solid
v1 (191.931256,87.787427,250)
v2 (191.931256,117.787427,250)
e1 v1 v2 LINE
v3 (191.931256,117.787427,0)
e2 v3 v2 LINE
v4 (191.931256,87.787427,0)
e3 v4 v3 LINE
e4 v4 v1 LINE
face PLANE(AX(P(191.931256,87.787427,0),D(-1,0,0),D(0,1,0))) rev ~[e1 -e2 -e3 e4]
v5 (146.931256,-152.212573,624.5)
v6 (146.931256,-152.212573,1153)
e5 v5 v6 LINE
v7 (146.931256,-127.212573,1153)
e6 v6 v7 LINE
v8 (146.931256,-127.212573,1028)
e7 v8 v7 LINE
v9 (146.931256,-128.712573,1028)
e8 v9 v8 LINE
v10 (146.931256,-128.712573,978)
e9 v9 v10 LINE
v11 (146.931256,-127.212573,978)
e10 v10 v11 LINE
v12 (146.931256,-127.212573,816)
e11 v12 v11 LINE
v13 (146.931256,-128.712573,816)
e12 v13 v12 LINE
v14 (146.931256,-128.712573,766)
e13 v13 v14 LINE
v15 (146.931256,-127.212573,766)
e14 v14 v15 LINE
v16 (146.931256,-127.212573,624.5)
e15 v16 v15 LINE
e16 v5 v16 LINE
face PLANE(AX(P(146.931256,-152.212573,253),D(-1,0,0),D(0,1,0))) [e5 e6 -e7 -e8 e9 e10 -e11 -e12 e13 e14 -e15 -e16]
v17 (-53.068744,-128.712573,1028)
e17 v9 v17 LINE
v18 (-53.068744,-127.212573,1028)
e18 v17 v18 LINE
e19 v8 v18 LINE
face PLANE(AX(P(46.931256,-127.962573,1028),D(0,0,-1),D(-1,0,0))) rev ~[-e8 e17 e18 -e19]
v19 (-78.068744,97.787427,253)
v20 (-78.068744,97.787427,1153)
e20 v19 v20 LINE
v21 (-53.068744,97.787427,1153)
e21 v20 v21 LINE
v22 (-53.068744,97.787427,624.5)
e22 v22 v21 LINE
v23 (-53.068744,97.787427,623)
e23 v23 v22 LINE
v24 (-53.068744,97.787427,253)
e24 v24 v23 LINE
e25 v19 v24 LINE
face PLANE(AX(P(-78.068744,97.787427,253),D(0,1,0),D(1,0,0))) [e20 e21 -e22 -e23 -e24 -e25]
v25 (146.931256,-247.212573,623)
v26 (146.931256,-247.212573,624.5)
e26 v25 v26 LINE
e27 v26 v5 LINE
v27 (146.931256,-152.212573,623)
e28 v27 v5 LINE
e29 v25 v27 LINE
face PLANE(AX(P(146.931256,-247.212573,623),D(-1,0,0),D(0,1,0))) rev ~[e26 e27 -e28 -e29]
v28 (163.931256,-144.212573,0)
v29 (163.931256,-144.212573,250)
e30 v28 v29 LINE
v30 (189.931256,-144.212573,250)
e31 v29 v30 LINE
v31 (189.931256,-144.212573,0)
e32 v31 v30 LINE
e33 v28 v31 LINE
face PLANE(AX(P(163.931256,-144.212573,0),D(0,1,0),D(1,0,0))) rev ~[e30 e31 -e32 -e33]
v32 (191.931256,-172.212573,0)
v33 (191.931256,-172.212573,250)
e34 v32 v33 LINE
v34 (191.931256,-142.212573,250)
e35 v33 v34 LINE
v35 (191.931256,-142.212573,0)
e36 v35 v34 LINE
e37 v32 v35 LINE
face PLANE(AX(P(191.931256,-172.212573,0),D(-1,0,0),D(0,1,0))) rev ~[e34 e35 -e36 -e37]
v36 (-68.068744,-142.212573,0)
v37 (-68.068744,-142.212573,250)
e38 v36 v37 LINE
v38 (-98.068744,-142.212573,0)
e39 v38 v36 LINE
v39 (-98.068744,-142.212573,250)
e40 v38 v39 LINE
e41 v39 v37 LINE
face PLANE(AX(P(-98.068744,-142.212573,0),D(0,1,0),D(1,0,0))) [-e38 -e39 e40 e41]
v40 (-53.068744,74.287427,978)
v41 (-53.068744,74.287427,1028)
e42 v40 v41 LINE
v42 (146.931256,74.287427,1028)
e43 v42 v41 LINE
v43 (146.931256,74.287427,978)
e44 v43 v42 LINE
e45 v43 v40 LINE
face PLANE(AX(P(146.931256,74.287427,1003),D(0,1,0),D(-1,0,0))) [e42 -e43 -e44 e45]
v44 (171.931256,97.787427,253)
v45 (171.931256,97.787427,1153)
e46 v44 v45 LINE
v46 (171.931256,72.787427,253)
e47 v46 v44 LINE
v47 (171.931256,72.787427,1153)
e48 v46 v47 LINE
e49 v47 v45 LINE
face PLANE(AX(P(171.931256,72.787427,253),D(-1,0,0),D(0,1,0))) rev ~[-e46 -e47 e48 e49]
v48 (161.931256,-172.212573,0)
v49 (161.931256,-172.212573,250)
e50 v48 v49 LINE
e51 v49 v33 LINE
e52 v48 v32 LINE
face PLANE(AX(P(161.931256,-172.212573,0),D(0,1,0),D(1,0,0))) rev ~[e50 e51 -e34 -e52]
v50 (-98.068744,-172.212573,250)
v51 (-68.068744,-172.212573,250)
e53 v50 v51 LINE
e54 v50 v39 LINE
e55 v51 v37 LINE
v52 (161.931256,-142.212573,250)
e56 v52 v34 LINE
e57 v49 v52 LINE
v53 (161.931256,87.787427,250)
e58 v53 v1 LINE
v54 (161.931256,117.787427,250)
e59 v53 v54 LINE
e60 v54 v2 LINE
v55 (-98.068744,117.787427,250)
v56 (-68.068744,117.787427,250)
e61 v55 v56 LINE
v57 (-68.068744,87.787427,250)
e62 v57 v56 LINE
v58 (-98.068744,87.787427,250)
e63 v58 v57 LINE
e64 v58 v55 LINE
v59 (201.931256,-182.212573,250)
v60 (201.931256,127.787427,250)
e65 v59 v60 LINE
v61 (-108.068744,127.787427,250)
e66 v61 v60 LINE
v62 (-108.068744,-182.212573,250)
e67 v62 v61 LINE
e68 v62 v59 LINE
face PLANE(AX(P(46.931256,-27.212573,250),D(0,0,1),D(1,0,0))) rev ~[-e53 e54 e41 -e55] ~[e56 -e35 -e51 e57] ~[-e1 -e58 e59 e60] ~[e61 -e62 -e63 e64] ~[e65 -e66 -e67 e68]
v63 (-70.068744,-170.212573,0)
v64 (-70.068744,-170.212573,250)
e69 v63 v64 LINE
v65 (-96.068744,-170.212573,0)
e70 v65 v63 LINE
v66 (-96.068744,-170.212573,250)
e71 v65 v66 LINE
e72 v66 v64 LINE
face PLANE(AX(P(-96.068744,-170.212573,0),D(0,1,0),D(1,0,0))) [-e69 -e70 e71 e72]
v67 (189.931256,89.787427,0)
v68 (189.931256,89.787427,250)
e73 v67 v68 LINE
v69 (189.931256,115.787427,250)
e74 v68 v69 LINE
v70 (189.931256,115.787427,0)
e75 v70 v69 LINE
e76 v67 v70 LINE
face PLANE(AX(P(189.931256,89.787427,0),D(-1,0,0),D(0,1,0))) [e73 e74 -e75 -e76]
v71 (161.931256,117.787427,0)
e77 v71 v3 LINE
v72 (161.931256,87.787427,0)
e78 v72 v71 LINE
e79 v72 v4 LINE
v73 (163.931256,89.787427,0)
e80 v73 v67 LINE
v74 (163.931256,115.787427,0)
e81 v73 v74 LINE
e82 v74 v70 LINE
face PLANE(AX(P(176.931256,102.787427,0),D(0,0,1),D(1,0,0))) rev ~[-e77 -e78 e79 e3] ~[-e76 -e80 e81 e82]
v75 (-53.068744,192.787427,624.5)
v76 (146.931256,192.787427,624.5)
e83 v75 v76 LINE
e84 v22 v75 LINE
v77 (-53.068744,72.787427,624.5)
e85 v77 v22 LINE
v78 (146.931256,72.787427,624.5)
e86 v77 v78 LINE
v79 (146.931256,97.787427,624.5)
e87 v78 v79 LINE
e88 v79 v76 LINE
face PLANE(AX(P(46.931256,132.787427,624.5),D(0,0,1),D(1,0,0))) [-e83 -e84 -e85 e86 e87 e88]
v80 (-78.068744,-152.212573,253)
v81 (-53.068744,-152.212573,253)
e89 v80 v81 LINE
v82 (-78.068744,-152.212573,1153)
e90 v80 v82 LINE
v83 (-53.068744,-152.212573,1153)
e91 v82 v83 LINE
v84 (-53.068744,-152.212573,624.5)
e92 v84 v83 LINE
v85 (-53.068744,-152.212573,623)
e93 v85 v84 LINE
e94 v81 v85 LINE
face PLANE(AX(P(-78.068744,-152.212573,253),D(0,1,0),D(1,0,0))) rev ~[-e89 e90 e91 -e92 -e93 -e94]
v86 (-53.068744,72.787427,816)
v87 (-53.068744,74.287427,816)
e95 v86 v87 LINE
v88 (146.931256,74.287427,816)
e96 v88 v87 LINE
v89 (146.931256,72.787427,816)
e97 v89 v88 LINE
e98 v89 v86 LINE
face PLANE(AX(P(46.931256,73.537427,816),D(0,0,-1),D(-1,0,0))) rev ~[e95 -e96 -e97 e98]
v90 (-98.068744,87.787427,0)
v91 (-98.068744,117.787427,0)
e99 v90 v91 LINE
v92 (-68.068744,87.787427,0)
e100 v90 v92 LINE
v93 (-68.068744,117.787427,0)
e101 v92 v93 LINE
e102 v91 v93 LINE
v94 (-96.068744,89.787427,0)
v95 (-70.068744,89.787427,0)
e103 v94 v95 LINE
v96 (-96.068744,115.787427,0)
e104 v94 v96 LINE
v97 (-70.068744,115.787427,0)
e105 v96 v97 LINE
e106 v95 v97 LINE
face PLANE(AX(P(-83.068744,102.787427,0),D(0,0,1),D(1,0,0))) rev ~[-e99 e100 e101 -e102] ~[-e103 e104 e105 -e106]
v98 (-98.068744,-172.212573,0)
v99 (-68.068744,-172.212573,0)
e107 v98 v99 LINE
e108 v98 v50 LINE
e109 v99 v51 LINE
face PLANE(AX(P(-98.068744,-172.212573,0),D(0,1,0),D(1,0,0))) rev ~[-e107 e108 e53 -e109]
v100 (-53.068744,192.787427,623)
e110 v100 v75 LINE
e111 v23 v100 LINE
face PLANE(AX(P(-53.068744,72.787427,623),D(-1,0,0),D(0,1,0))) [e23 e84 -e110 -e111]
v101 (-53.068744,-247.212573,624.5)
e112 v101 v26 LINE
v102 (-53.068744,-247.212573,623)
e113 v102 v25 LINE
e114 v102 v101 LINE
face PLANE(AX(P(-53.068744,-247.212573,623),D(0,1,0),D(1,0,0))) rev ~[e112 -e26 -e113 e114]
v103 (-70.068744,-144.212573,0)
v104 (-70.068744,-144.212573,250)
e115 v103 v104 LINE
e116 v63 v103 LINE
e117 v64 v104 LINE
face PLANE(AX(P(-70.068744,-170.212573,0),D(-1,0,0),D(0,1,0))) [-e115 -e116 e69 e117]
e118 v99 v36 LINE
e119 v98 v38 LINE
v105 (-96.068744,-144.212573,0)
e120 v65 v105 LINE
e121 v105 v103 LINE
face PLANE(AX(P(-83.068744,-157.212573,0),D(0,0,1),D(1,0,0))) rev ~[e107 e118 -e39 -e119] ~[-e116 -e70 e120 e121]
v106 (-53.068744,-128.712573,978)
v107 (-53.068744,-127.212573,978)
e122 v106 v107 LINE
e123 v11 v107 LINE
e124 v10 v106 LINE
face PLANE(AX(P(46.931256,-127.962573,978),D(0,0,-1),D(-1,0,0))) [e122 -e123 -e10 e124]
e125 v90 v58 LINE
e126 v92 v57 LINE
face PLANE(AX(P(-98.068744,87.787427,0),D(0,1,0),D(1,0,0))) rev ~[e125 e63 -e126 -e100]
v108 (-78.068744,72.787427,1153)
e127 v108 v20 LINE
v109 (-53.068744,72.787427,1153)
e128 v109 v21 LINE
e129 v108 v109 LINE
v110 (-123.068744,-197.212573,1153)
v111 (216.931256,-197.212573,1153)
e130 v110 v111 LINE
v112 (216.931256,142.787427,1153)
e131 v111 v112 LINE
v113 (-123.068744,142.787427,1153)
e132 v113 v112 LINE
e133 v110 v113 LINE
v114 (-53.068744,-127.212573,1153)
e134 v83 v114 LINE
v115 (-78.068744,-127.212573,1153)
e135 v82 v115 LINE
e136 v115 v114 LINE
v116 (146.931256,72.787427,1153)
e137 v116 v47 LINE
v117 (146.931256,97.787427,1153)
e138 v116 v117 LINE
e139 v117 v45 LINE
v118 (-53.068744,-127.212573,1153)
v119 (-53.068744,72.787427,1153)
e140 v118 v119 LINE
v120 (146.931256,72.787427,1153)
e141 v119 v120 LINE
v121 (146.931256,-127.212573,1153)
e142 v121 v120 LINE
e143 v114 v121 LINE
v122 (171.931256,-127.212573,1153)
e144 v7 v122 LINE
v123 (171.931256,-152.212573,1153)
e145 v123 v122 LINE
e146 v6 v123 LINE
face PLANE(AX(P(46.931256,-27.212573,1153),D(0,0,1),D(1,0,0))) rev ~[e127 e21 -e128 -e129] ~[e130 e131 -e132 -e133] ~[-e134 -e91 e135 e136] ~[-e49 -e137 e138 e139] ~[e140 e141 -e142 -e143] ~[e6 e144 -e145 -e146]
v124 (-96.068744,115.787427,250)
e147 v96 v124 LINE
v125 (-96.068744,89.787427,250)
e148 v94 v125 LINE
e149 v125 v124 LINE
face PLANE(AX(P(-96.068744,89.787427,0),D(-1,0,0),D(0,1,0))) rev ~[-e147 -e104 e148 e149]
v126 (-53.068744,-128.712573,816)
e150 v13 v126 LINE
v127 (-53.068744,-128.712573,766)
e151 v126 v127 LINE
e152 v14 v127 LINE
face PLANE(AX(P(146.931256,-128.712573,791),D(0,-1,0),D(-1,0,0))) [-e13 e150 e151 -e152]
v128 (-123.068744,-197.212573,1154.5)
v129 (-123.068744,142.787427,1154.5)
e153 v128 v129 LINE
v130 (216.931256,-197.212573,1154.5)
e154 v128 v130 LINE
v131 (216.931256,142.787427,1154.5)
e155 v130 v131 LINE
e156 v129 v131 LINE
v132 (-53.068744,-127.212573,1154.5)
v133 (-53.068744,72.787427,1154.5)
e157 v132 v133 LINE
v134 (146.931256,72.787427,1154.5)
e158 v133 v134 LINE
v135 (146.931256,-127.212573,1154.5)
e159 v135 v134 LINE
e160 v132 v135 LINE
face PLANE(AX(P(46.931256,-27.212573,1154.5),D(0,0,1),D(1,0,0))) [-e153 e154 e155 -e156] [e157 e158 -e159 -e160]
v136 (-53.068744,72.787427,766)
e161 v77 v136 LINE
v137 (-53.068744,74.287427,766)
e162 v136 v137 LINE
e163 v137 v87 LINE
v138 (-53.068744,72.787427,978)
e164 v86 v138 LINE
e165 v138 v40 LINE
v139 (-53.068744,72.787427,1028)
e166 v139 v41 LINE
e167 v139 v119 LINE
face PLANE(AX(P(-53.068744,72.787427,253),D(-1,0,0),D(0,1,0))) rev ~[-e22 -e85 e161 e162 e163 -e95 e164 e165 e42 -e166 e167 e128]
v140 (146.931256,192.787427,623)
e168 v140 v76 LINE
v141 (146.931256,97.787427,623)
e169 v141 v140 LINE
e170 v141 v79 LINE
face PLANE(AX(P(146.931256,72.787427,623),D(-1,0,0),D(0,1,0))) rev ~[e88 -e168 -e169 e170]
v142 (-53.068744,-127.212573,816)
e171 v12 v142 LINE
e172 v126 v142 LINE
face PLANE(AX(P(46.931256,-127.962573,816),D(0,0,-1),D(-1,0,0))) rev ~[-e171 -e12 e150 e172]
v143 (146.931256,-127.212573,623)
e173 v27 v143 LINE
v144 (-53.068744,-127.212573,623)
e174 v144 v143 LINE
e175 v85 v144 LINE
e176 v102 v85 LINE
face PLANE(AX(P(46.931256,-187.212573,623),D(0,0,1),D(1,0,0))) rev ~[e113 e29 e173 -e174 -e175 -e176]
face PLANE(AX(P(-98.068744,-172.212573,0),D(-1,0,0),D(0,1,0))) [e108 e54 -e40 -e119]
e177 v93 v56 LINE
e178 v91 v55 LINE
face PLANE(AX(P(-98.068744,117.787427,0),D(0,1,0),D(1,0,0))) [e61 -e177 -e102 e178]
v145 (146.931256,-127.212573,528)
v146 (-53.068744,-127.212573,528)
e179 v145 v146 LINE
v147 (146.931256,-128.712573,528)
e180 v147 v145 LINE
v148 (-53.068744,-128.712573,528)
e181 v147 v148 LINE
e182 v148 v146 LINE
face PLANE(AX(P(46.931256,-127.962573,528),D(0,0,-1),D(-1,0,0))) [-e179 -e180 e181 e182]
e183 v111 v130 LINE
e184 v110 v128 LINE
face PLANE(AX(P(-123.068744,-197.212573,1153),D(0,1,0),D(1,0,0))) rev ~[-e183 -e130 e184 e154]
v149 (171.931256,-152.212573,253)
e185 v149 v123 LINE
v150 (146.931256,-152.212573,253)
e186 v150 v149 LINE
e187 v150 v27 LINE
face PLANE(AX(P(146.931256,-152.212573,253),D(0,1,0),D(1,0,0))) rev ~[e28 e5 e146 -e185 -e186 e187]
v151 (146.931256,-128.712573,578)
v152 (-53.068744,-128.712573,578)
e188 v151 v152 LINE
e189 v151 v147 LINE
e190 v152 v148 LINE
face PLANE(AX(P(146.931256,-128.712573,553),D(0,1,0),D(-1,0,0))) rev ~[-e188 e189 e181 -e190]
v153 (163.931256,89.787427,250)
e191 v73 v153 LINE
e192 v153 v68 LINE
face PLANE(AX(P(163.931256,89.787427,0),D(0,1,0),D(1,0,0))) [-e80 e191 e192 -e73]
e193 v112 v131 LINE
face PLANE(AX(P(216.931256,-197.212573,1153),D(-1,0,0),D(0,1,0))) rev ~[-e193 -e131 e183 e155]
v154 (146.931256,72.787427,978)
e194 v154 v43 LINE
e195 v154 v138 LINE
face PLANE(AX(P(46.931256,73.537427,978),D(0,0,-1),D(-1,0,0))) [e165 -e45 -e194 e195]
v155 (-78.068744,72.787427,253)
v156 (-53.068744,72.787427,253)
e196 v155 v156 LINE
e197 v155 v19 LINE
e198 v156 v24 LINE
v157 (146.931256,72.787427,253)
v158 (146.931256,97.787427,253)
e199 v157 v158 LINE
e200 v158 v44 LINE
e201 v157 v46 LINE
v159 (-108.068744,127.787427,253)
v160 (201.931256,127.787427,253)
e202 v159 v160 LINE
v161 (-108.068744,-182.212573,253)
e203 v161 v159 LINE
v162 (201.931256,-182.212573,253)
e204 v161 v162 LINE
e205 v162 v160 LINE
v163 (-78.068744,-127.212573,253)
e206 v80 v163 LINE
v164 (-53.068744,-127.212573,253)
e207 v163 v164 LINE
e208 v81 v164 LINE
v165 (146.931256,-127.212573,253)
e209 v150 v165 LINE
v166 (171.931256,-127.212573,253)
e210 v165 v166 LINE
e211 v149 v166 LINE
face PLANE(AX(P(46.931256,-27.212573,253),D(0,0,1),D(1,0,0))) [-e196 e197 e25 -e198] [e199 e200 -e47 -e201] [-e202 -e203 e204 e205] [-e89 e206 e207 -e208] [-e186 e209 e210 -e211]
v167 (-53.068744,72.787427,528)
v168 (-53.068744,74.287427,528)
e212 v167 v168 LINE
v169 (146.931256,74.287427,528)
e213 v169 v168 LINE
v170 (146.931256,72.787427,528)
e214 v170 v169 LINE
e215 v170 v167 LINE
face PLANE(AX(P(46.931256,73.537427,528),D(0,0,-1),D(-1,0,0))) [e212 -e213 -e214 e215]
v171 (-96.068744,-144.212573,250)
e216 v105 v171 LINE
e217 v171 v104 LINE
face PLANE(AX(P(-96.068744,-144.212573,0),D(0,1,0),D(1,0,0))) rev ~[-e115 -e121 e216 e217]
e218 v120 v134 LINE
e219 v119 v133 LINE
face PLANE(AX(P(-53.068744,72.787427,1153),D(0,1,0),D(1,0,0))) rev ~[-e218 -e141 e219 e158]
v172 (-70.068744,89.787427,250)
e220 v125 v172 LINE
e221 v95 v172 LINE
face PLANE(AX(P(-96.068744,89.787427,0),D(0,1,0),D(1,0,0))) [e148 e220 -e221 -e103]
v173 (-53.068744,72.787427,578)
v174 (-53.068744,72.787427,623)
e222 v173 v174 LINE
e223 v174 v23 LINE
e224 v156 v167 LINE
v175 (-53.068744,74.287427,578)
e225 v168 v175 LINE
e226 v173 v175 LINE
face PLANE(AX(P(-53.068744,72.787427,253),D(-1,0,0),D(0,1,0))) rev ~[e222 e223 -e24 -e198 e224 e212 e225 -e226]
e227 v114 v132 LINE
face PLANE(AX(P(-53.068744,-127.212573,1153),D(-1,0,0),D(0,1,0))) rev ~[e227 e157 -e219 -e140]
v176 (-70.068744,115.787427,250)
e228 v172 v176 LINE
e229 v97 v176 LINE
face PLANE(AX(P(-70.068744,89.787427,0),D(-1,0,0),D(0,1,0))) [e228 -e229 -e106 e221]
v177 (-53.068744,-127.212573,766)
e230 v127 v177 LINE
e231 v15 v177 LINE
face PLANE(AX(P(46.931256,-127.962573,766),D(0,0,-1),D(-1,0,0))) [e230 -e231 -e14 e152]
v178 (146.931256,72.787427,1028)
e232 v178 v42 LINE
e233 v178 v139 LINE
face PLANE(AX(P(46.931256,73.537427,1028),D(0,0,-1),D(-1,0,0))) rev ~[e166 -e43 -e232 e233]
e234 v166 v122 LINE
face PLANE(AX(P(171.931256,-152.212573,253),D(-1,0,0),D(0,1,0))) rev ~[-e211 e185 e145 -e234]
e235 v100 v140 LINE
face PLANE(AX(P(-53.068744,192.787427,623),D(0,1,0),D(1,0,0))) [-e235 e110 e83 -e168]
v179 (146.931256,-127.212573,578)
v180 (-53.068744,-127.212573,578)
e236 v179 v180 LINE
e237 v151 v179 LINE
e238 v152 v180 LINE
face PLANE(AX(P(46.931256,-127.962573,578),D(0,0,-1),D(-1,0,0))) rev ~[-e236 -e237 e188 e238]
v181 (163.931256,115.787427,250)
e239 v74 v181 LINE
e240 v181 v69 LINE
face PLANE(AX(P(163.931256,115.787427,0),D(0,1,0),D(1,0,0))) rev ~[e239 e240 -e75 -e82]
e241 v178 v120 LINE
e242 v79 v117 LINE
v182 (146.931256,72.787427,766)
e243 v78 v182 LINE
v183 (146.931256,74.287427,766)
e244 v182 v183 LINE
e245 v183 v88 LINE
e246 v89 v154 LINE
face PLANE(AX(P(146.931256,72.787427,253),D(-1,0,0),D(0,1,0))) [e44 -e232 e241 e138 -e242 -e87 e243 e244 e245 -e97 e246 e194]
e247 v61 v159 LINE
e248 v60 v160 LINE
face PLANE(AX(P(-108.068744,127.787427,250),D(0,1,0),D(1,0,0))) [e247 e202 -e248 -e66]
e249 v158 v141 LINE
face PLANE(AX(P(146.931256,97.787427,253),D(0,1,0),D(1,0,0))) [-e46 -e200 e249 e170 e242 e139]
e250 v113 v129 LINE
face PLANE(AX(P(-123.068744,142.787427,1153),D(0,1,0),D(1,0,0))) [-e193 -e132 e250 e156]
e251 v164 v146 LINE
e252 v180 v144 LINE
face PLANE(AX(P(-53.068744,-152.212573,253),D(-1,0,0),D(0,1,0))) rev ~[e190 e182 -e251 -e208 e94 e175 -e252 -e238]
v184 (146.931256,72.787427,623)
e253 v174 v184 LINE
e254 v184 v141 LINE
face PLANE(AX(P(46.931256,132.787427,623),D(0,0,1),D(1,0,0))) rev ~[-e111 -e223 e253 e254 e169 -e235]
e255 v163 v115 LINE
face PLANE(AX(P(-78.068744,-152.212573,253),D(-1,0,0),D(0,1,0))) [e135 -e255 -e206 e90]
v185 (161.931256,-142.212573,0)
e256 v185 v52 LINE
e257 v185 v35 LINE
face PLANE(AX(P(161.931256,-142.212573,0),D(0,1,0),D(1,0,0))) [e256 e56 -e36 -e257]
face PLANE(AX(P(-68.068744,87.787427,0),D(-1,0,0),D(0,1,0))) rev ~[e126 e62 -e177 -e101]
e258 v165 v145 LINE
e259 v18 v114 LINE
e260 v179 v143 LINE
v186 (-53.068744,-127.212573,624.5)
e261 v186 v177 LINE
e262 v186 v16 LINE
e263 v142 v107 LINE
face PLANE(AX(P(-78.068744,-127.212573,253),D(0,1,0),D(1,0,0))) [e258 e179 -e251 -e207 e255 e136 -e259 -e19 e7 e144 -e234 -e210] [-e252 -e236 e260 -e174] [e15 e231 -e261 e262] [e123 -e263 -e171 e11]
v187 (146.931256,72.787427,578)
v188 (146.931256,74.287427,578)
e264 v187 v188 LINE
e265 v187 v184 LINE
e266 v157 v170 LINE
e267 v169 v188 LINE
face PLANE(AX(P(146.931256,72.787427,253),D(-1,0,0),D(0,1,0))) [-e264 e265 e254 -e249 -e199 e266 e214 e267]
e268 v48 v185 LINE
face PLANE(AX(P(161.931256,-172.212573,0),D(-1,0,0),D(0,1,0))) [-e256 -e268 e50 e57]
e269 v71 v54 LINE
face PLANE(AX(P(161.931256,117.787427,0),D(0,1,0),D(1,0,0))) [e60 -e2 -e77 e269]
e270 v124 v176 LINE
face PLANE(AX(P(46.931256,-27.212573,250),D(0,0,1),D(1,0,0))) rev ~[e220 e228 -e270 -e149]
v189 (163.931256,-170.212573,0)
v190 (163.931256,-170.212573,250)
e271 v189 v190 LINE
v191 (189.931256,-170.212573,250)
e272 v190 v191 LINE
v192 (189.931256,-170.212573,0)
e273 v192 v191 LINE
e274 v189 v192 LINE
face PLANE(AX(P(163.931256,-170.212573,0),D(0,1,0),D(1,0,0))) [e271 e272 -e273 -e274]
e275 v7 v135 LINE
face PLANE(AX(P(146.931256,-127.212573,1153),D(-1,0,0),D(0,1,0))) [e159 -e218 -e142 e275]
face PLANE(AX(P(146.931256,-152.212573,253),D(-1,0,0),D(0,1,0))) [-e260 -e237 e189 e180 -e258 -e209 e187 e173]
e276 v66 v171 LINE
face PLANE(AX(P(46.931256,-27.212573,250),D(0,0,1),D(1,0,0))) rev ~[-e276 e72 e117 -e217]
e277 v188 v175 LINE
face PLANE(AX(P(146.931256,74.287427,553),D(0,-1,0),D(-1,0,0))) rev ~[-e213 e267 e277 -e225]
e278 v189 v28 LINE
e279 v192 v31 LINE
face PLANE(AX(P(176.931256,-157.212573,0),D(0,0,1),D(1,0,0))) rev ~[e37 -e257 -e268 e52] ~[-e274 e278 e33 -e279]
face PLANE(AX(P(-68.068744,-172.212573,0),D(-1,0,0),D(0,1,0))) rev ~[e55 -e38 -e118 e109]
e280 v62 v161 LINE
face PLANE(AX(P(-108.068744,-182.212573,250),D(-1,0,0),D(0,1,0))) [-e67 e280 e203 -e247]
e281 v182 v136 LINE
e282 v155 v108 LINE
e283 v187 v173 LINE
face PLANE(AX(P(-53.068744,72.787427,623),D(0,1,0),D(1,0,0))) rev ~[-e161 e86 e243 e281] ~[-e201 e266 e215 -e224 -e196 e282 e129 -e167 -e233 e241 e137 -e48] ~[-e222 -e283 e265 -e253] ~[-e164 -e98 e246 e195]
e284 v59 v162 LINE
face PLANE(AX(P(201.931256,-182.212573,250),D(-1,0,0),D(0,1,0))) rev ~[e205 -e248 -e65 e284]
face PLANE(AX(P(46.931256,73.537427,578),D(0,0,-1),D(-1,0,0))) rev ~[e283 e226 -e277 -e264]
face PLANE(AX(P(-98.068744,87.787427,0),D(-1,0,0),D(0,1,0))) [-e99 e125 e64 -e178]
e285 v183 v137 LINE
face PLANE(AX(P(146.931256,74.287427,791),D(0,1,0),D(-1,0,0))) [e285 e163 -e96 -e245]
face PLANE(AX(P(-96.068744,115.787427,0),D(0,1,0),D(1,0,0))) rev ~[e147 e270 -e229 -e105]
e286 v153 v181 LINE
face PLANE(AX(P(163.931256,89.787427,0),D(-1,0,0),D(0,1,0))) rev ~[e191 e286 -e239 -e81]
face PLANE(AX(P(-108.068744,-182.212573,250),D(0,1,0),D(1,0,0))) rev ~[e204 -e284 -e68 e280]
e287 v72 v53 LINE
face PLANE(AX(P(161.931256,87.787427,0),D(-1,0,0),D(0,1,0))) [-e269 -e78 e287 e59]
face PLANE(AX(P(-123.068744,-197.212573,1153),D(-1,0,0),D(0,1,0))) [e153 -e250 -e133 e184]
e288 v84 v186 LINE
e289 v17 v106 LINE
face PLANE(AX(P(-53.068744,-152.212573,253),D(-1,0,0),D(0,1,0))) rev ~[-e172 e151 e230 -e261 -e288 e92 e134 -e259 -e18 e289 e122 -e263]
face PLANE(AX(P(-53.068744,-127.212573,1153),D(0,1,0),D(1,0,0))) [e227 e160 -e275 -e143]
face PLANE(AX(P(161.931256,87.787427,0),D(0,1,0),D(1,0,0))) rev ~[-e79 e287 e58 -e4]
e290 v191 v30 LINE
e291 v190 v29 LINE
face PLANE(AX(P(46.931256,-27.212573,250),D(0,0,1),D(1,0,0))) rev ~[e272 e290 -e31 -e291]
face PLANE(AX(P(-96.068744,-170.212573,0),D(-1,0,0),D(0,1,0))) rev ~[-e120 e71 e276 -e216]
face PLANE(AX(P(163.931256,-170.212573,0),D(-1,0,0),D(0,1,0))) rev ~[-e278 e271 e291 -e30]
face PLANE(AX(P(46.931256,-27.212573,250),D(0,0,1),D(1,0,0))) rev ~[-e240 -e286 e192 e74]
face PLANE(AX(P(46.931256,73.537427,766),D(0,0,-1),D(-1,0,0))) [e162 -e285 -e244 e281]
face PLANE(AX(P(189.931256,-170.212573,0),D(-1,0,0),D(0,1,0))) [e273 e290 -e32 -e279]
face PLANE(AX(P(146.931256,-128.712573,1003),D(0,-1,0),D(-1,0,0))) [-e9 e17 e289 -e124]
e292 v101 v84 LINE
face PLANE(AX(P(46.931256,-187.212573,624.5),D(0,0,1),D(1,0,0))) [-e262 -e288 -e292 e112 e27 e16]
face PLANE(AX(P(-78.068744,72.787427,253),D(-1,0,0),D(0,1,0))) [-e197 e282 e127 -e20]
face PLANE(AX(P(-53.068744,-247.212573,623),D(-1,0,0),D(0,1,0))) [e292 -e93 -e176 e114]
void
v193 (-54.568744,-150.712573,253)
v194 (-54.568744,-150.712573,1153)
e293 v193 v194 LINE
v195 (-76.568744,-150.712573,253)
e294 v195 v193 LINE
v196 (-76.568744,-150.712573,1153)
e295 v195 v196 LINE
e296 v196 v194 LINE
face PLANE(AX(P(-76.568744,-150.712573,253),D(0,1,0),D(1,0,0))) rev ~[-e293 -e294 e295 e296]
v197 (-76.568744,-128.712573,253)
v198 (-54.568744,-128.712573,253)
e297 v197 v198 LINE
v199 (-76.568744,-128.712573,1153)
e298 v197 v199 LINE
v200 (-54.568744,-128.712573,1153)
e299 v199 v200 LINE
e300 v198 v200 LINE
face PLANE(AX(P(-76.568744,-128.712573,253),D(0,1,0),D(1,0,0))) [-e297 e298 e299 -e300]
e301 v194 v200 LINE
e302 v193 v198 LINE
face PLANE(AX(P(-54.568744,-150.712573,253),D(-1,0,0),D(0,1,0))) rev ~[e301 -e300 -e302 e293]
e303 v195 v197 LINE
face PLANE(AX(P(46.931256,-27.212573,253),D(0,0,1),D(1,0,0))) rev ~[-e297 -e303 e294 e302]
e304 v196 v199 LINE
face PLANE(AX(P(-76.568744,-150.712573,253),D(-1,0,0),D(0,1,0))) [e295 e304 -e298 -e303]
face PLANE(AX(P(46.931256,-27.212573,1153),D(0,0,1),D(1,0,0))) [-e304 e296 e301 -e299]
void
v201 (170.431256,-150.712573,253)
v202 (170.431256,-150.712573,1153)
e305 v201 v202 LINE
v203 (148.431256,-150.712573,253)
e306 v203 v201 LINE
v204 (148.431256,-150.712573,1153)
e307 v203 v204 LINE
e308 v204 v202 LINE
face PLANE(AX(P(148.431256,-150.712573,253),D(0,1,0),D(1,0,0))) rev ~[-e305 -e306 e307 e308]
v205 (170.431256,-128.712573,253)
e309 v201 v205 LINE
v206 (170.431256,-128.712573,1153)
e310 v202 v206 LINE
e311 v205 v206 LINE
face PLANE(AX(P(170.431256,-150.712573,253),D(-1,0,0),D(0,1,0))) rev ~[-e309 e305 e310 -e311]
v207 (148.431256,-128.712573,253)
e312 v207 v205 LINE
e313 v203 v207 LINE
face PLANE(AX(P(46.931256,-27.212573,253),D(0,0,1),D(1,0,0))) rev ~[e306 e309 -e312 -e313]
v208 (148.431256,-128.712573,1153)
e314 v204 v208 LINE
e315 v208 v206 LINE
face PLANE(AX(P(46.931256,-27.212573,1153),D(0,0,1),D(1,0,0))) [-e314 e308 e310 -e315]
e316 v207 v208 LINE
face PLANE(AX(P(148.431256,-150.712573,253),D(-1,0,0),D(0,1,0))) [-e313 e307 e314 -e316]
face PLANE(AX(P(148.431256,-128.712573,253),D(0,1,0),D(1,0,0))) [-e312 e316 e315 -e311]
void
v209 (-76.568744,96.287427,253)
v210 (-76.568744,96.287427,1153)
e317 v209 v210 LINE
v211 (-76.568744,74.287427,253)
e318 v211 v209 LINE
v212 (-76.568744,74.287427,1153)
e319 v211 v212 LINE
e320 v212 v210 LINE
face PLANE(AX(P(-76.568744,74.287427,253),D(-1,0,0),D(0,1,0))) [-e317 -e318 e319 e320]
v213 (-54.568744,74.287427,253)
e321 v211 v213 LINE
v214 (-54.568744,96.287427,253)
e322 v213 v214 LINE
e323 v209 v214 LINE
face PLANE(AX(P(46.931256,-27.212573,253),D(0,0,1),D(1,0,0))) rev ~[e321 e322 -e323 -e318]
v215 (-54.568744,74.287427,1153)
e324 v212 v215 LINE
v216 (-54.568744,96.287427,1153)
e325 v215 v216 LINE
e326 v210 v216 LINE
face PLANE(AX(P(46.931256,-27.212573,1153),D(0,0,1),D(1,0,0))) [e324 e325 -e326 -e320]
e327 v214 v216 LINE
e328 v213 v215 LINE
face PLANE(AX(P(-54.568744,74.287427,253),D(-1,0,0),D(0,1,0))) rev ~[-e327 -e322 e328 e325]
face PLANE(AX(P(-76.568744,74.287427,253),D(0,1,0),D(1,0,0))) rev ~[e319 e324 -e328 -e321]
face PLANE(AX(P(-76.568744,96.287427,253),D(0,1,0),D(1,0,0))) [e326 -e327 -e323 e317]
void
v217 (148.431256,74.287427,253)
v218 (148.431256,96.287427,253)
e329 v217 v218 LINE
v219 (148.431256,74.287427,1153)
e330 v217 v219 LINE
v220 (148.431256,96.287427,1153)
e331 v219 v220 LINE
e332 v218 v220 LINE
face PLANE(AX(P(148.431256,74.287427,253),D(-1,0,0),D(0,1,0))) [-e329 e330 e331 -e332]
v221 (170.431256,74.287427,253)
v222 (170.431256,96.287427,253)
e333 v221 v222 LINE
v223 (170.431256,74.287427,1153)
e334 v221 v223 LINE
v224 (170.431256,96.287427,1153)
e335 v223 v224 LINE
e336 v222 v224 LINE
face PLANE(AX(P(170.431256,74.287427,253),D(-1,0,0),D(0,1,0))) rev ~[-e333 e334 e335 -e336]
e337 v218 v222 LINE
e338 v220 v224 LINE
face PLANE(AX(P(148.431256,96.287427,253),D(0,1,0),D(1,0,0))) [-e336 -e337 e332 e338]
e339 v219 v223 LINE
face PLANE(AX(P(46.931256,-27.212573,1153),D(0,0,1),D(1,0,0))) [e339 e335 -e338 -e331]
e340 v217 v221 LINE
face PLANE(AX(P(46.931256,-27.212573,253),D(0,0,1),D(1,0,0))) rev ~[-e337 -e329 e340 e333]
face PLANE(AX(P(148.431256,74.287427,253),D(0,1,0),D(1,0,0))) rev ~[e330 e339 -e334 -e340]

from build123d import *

# Parameters (mm, degrees)
SKETCH_1_W        = 30
SKETCH_1_H        = 30
SKETCH_1_W_2      = 26
SKETCH_1_H_2      = 26
EXTRUDE_1_DEPTH   = 250
EXTRUDE_1_2_DEPTH = 250
EXTRUDE_1_3_DEPTH = 250
EXTRUDE_1_4_DEPTH = 250
SKETCH_2_W        = 310
SKETCH_2_H        = 310
EXTRUDE_2_DEPTH   = 3
SKETCH_5_W        = 25
SKETCH_5_H        = 25
SKETCH_5_W_2      = 22
SKETCH_5_H_2      = 22
EXTRUDE_3_DEPTH   = 900
SKETCH_6_W        = 340
SKETCH_6_H        = 340
SKETCH_6_W_2      = 200
SKETCH_6_H_2      = 200
EXTRUDE_4_DEPTH   = 1.5
SKETCH_7_W        = 200
SKETCH_7_H        = 120
EXTRUDE_5_DEPTH   = 1.5
SKETCH_8_W        = 200
SKETCH_8_H        = 1.5
EXTRUDE_6_DEPTH   = 25
SKETCH_9_W        = 200
SKETCH_9_H        = 1.5
EXTRUDE_7_DEPTH   = 25
SKETCH_11_W       = 200
SKETCH_11_H       = 1.5
EXTRUDE_8_DEPTH   = 25


with BuildPart() as part:
    # 草圖1 → 填料-伸長1 (new body)
    with BuildSketch(Plane.XY):
        with Locations((-83.068744212, 102.787427317)):
            Rectangle(SKETCH_1_W, SKETCH_1_H)
        with Locations((-83.068744212, 102.787427317)):
            Rectangle(SKETCH_1_W_2, SKETCH_1_H_2, mode=Mode.SUBTRACT)
    extrude(amount=EXTRUDE_1_DEPTH)



with BuildPart() as body_2:
    # 草圖1 → Extrude 1 2 (new body)
    with BuildSketch(Plane.XY):
        with Locations((176.931255788, 102.787427317)):
            Rectangle(SKETCH_1_W, SKETCH_1_H)
        with Locations((176.931255788, 102.787427317)):
            Rectangle(SKETCH_1_W_2, SKETCH_1_H_2, mode=Mode.SUBTRACT)
    extrude(amount=EXTRUDE_1_2_DEPTH)


with BuildPart() as body_3:
    # 草圖1 → Extrude 1 3 (new body)
    with BuildSketch(Plane.XY):
        with Locations((-83.068744212, -157.212572683)):
            Rectangle(SKETCH_1_W, SKETCH_1_H)
        with Locations((-83.068744212, -157.212572683)):
            Rectangle(SKETCH_1_W_2, SKETCH_1_H_2, mode=Mode.SUBTRACT)
    extrude(amount=EXTRUDE_1_3_DEPTH)


with BuildPart() as body_4:
    # 草圖1 → Extrude 1 4 (new body)
    with BuildSketch(Plane.XY):
        with Locations((176.931255788, -157.212572683)):
            Rectangle(SKETCH_1_W, SKETCH_1_H)
        with Locations((176.931255788, -157.212572683)):
            Rectangle(SKETCH_1_W_2, SKETCH_1_H_2, mode=Mode.SUBTRACT)
    extrude(amount=EXTRUDE_1_4_DEPTH)


with BuildPart() as part_1:
    add(part.part)

    add(body_2.part)  # 填料-伸長2 merges body 2

    add(body_3.part)  # 填料-伸長2 merges body 3

    add(body_4.part)  # 填料-伸長2 merges body 4
    # 草圖2 → 填料-伸長2 (add)
    with BuildSketch(Plane.XY.offset(250)):
        with Locations((46.931255788, -27.212572683)):
            Rectangle(SKETCH_2_W, SKETCH_2_H)
    extrude(amount=EXTRUDE_2_DEPTH)

    # 草圖5 → 填料-伸長3 (add)
    with BuildSketch(Plane.XY.offset(253)):
        with Locations((-65.568744212, 85.287427317)):
            Rectangle(SKETCH_5_W, SKETCH_5_H)
        with Locations((-65.568744212, 85.287427317)):
            Rectangle(SKETCH_5_W_2, SKETCH_5_H_2, mode=Mode.SUBTRACT)
        with Locations((-65.568744212, -139.712572683)):
            Rectangle(SKETCH_5_W, SKETCH_5_H)
        with Locations((-65.568744212, -139.712572683)):
            Rectangle(SKETCH_5_W_2, SKETCH_5_H_2, mode=Mode.SUBTRACT)
        with Locations((159.431255788, -139.712572683)):
            Rectangle(SKETCH_5_W, SKETCH_5_H)
        with Locations((159.431255788, -139.712572683)):
            Rectangle(SKETCH_5_W_2, SKETCH_5_H_2, mode=Mode.SUBTRACT)
        with Locations((159.431255788, 85.287427317)):
            Rectangle(SKETCH_5_W, SKETCH_5_H)
        with Locations((159.431255788, 85.287427317)):
            Rectangle(SKETCH_5_W_2, SKETCH_5_H_2, mode=Mode.SUBTRACT)
    extrude(amount=EXTRUDE_3_DEPTH)

    # 草圖6 → 填料-伸長4 (add)
    with BuildSketch(Plane.XY.offset(1153)):
        with Locations((46.931255788, -27.212572683)):
            Rectangle(SKETCH_6_W, SKETCH_6_H)
        with Locations((46.931255788, -27.212572683)):
            Rectangle(SKETCH_6_W_2, SKETCH_6_H_2, mode=Mode.SUBTRACT)
    extrude(amount=EXTRUDE_4_DEPTH)

    # 草圖7 → 填料-伸長5 (add)
    with BuildSketch(Plane.XY.offset(623)):
        with Locations((46.931255788, 132.787427317)):
            Rectangle(SKETCH_7_W, SKETCH_7_H)
        with Locations((46.931255788, -187.212572683)):
            Rectangle(SKETCH_7_W, SKETCH_7_H)
    extrude(amount=EXTRUDE_5_DEPTH)

    # 草圖8 → 填料-伸長6 (add, symmetric)
    with BuildSketch(Plane(origin=(0, 0, 1003), x_dir=(-1, 0, 0), z_dir=(0, 0, -1))):
        with Locations((-46.931255788, 73.537427317)):
            Rectangle(SKETCH_8_W, SKETCH_8_H)
        with Locations((-46.931255788, -127.962572683)):
            Rectangle(SKETCH_8_W, SKETCH_8_H)
    extrude(amount=EXTRUDE_6_DEPTH, both=True)

    # 草圖9 → 填料-伸長7 (add, symmetric)
    with BuildSketch(Plane(origin=(0, 0, 791), x_dir=(-1, 0, 0), z_dir=(0, 0, -1))):
        with Locations((-46.931255788, 73.537427317)):
            Rectangle(SKETCH_9_W, SKETCH_9_H)
        with Locations((-46.931255788, -127.962572683)):
            Rectangle(SKETCH_9_W, SKETCH_9_H)
    extrude(amount=EXTRUDE_7_DEPTH, both=True)

    # 草圖11 → 填料-伸長8 (add, symmetric)
    with BuildSketch(Plane(origin=(0, 0, 553), x_dir=(-1, 0, 0), z_dir=(0, 0, -1))):
        with Locations((-46.931255788, -127.962572683)):
            Rectangle(SKETCH_11_W, SKETCH_11_H)
        with Locations((-46.931255788, 73.537427317)):
            Rectangle(SKETCH_11_W, SKETCH_11_H)
    extrude(amount=EXTRUDE_8_DEPTH, both=True)


solid = part_1.part
